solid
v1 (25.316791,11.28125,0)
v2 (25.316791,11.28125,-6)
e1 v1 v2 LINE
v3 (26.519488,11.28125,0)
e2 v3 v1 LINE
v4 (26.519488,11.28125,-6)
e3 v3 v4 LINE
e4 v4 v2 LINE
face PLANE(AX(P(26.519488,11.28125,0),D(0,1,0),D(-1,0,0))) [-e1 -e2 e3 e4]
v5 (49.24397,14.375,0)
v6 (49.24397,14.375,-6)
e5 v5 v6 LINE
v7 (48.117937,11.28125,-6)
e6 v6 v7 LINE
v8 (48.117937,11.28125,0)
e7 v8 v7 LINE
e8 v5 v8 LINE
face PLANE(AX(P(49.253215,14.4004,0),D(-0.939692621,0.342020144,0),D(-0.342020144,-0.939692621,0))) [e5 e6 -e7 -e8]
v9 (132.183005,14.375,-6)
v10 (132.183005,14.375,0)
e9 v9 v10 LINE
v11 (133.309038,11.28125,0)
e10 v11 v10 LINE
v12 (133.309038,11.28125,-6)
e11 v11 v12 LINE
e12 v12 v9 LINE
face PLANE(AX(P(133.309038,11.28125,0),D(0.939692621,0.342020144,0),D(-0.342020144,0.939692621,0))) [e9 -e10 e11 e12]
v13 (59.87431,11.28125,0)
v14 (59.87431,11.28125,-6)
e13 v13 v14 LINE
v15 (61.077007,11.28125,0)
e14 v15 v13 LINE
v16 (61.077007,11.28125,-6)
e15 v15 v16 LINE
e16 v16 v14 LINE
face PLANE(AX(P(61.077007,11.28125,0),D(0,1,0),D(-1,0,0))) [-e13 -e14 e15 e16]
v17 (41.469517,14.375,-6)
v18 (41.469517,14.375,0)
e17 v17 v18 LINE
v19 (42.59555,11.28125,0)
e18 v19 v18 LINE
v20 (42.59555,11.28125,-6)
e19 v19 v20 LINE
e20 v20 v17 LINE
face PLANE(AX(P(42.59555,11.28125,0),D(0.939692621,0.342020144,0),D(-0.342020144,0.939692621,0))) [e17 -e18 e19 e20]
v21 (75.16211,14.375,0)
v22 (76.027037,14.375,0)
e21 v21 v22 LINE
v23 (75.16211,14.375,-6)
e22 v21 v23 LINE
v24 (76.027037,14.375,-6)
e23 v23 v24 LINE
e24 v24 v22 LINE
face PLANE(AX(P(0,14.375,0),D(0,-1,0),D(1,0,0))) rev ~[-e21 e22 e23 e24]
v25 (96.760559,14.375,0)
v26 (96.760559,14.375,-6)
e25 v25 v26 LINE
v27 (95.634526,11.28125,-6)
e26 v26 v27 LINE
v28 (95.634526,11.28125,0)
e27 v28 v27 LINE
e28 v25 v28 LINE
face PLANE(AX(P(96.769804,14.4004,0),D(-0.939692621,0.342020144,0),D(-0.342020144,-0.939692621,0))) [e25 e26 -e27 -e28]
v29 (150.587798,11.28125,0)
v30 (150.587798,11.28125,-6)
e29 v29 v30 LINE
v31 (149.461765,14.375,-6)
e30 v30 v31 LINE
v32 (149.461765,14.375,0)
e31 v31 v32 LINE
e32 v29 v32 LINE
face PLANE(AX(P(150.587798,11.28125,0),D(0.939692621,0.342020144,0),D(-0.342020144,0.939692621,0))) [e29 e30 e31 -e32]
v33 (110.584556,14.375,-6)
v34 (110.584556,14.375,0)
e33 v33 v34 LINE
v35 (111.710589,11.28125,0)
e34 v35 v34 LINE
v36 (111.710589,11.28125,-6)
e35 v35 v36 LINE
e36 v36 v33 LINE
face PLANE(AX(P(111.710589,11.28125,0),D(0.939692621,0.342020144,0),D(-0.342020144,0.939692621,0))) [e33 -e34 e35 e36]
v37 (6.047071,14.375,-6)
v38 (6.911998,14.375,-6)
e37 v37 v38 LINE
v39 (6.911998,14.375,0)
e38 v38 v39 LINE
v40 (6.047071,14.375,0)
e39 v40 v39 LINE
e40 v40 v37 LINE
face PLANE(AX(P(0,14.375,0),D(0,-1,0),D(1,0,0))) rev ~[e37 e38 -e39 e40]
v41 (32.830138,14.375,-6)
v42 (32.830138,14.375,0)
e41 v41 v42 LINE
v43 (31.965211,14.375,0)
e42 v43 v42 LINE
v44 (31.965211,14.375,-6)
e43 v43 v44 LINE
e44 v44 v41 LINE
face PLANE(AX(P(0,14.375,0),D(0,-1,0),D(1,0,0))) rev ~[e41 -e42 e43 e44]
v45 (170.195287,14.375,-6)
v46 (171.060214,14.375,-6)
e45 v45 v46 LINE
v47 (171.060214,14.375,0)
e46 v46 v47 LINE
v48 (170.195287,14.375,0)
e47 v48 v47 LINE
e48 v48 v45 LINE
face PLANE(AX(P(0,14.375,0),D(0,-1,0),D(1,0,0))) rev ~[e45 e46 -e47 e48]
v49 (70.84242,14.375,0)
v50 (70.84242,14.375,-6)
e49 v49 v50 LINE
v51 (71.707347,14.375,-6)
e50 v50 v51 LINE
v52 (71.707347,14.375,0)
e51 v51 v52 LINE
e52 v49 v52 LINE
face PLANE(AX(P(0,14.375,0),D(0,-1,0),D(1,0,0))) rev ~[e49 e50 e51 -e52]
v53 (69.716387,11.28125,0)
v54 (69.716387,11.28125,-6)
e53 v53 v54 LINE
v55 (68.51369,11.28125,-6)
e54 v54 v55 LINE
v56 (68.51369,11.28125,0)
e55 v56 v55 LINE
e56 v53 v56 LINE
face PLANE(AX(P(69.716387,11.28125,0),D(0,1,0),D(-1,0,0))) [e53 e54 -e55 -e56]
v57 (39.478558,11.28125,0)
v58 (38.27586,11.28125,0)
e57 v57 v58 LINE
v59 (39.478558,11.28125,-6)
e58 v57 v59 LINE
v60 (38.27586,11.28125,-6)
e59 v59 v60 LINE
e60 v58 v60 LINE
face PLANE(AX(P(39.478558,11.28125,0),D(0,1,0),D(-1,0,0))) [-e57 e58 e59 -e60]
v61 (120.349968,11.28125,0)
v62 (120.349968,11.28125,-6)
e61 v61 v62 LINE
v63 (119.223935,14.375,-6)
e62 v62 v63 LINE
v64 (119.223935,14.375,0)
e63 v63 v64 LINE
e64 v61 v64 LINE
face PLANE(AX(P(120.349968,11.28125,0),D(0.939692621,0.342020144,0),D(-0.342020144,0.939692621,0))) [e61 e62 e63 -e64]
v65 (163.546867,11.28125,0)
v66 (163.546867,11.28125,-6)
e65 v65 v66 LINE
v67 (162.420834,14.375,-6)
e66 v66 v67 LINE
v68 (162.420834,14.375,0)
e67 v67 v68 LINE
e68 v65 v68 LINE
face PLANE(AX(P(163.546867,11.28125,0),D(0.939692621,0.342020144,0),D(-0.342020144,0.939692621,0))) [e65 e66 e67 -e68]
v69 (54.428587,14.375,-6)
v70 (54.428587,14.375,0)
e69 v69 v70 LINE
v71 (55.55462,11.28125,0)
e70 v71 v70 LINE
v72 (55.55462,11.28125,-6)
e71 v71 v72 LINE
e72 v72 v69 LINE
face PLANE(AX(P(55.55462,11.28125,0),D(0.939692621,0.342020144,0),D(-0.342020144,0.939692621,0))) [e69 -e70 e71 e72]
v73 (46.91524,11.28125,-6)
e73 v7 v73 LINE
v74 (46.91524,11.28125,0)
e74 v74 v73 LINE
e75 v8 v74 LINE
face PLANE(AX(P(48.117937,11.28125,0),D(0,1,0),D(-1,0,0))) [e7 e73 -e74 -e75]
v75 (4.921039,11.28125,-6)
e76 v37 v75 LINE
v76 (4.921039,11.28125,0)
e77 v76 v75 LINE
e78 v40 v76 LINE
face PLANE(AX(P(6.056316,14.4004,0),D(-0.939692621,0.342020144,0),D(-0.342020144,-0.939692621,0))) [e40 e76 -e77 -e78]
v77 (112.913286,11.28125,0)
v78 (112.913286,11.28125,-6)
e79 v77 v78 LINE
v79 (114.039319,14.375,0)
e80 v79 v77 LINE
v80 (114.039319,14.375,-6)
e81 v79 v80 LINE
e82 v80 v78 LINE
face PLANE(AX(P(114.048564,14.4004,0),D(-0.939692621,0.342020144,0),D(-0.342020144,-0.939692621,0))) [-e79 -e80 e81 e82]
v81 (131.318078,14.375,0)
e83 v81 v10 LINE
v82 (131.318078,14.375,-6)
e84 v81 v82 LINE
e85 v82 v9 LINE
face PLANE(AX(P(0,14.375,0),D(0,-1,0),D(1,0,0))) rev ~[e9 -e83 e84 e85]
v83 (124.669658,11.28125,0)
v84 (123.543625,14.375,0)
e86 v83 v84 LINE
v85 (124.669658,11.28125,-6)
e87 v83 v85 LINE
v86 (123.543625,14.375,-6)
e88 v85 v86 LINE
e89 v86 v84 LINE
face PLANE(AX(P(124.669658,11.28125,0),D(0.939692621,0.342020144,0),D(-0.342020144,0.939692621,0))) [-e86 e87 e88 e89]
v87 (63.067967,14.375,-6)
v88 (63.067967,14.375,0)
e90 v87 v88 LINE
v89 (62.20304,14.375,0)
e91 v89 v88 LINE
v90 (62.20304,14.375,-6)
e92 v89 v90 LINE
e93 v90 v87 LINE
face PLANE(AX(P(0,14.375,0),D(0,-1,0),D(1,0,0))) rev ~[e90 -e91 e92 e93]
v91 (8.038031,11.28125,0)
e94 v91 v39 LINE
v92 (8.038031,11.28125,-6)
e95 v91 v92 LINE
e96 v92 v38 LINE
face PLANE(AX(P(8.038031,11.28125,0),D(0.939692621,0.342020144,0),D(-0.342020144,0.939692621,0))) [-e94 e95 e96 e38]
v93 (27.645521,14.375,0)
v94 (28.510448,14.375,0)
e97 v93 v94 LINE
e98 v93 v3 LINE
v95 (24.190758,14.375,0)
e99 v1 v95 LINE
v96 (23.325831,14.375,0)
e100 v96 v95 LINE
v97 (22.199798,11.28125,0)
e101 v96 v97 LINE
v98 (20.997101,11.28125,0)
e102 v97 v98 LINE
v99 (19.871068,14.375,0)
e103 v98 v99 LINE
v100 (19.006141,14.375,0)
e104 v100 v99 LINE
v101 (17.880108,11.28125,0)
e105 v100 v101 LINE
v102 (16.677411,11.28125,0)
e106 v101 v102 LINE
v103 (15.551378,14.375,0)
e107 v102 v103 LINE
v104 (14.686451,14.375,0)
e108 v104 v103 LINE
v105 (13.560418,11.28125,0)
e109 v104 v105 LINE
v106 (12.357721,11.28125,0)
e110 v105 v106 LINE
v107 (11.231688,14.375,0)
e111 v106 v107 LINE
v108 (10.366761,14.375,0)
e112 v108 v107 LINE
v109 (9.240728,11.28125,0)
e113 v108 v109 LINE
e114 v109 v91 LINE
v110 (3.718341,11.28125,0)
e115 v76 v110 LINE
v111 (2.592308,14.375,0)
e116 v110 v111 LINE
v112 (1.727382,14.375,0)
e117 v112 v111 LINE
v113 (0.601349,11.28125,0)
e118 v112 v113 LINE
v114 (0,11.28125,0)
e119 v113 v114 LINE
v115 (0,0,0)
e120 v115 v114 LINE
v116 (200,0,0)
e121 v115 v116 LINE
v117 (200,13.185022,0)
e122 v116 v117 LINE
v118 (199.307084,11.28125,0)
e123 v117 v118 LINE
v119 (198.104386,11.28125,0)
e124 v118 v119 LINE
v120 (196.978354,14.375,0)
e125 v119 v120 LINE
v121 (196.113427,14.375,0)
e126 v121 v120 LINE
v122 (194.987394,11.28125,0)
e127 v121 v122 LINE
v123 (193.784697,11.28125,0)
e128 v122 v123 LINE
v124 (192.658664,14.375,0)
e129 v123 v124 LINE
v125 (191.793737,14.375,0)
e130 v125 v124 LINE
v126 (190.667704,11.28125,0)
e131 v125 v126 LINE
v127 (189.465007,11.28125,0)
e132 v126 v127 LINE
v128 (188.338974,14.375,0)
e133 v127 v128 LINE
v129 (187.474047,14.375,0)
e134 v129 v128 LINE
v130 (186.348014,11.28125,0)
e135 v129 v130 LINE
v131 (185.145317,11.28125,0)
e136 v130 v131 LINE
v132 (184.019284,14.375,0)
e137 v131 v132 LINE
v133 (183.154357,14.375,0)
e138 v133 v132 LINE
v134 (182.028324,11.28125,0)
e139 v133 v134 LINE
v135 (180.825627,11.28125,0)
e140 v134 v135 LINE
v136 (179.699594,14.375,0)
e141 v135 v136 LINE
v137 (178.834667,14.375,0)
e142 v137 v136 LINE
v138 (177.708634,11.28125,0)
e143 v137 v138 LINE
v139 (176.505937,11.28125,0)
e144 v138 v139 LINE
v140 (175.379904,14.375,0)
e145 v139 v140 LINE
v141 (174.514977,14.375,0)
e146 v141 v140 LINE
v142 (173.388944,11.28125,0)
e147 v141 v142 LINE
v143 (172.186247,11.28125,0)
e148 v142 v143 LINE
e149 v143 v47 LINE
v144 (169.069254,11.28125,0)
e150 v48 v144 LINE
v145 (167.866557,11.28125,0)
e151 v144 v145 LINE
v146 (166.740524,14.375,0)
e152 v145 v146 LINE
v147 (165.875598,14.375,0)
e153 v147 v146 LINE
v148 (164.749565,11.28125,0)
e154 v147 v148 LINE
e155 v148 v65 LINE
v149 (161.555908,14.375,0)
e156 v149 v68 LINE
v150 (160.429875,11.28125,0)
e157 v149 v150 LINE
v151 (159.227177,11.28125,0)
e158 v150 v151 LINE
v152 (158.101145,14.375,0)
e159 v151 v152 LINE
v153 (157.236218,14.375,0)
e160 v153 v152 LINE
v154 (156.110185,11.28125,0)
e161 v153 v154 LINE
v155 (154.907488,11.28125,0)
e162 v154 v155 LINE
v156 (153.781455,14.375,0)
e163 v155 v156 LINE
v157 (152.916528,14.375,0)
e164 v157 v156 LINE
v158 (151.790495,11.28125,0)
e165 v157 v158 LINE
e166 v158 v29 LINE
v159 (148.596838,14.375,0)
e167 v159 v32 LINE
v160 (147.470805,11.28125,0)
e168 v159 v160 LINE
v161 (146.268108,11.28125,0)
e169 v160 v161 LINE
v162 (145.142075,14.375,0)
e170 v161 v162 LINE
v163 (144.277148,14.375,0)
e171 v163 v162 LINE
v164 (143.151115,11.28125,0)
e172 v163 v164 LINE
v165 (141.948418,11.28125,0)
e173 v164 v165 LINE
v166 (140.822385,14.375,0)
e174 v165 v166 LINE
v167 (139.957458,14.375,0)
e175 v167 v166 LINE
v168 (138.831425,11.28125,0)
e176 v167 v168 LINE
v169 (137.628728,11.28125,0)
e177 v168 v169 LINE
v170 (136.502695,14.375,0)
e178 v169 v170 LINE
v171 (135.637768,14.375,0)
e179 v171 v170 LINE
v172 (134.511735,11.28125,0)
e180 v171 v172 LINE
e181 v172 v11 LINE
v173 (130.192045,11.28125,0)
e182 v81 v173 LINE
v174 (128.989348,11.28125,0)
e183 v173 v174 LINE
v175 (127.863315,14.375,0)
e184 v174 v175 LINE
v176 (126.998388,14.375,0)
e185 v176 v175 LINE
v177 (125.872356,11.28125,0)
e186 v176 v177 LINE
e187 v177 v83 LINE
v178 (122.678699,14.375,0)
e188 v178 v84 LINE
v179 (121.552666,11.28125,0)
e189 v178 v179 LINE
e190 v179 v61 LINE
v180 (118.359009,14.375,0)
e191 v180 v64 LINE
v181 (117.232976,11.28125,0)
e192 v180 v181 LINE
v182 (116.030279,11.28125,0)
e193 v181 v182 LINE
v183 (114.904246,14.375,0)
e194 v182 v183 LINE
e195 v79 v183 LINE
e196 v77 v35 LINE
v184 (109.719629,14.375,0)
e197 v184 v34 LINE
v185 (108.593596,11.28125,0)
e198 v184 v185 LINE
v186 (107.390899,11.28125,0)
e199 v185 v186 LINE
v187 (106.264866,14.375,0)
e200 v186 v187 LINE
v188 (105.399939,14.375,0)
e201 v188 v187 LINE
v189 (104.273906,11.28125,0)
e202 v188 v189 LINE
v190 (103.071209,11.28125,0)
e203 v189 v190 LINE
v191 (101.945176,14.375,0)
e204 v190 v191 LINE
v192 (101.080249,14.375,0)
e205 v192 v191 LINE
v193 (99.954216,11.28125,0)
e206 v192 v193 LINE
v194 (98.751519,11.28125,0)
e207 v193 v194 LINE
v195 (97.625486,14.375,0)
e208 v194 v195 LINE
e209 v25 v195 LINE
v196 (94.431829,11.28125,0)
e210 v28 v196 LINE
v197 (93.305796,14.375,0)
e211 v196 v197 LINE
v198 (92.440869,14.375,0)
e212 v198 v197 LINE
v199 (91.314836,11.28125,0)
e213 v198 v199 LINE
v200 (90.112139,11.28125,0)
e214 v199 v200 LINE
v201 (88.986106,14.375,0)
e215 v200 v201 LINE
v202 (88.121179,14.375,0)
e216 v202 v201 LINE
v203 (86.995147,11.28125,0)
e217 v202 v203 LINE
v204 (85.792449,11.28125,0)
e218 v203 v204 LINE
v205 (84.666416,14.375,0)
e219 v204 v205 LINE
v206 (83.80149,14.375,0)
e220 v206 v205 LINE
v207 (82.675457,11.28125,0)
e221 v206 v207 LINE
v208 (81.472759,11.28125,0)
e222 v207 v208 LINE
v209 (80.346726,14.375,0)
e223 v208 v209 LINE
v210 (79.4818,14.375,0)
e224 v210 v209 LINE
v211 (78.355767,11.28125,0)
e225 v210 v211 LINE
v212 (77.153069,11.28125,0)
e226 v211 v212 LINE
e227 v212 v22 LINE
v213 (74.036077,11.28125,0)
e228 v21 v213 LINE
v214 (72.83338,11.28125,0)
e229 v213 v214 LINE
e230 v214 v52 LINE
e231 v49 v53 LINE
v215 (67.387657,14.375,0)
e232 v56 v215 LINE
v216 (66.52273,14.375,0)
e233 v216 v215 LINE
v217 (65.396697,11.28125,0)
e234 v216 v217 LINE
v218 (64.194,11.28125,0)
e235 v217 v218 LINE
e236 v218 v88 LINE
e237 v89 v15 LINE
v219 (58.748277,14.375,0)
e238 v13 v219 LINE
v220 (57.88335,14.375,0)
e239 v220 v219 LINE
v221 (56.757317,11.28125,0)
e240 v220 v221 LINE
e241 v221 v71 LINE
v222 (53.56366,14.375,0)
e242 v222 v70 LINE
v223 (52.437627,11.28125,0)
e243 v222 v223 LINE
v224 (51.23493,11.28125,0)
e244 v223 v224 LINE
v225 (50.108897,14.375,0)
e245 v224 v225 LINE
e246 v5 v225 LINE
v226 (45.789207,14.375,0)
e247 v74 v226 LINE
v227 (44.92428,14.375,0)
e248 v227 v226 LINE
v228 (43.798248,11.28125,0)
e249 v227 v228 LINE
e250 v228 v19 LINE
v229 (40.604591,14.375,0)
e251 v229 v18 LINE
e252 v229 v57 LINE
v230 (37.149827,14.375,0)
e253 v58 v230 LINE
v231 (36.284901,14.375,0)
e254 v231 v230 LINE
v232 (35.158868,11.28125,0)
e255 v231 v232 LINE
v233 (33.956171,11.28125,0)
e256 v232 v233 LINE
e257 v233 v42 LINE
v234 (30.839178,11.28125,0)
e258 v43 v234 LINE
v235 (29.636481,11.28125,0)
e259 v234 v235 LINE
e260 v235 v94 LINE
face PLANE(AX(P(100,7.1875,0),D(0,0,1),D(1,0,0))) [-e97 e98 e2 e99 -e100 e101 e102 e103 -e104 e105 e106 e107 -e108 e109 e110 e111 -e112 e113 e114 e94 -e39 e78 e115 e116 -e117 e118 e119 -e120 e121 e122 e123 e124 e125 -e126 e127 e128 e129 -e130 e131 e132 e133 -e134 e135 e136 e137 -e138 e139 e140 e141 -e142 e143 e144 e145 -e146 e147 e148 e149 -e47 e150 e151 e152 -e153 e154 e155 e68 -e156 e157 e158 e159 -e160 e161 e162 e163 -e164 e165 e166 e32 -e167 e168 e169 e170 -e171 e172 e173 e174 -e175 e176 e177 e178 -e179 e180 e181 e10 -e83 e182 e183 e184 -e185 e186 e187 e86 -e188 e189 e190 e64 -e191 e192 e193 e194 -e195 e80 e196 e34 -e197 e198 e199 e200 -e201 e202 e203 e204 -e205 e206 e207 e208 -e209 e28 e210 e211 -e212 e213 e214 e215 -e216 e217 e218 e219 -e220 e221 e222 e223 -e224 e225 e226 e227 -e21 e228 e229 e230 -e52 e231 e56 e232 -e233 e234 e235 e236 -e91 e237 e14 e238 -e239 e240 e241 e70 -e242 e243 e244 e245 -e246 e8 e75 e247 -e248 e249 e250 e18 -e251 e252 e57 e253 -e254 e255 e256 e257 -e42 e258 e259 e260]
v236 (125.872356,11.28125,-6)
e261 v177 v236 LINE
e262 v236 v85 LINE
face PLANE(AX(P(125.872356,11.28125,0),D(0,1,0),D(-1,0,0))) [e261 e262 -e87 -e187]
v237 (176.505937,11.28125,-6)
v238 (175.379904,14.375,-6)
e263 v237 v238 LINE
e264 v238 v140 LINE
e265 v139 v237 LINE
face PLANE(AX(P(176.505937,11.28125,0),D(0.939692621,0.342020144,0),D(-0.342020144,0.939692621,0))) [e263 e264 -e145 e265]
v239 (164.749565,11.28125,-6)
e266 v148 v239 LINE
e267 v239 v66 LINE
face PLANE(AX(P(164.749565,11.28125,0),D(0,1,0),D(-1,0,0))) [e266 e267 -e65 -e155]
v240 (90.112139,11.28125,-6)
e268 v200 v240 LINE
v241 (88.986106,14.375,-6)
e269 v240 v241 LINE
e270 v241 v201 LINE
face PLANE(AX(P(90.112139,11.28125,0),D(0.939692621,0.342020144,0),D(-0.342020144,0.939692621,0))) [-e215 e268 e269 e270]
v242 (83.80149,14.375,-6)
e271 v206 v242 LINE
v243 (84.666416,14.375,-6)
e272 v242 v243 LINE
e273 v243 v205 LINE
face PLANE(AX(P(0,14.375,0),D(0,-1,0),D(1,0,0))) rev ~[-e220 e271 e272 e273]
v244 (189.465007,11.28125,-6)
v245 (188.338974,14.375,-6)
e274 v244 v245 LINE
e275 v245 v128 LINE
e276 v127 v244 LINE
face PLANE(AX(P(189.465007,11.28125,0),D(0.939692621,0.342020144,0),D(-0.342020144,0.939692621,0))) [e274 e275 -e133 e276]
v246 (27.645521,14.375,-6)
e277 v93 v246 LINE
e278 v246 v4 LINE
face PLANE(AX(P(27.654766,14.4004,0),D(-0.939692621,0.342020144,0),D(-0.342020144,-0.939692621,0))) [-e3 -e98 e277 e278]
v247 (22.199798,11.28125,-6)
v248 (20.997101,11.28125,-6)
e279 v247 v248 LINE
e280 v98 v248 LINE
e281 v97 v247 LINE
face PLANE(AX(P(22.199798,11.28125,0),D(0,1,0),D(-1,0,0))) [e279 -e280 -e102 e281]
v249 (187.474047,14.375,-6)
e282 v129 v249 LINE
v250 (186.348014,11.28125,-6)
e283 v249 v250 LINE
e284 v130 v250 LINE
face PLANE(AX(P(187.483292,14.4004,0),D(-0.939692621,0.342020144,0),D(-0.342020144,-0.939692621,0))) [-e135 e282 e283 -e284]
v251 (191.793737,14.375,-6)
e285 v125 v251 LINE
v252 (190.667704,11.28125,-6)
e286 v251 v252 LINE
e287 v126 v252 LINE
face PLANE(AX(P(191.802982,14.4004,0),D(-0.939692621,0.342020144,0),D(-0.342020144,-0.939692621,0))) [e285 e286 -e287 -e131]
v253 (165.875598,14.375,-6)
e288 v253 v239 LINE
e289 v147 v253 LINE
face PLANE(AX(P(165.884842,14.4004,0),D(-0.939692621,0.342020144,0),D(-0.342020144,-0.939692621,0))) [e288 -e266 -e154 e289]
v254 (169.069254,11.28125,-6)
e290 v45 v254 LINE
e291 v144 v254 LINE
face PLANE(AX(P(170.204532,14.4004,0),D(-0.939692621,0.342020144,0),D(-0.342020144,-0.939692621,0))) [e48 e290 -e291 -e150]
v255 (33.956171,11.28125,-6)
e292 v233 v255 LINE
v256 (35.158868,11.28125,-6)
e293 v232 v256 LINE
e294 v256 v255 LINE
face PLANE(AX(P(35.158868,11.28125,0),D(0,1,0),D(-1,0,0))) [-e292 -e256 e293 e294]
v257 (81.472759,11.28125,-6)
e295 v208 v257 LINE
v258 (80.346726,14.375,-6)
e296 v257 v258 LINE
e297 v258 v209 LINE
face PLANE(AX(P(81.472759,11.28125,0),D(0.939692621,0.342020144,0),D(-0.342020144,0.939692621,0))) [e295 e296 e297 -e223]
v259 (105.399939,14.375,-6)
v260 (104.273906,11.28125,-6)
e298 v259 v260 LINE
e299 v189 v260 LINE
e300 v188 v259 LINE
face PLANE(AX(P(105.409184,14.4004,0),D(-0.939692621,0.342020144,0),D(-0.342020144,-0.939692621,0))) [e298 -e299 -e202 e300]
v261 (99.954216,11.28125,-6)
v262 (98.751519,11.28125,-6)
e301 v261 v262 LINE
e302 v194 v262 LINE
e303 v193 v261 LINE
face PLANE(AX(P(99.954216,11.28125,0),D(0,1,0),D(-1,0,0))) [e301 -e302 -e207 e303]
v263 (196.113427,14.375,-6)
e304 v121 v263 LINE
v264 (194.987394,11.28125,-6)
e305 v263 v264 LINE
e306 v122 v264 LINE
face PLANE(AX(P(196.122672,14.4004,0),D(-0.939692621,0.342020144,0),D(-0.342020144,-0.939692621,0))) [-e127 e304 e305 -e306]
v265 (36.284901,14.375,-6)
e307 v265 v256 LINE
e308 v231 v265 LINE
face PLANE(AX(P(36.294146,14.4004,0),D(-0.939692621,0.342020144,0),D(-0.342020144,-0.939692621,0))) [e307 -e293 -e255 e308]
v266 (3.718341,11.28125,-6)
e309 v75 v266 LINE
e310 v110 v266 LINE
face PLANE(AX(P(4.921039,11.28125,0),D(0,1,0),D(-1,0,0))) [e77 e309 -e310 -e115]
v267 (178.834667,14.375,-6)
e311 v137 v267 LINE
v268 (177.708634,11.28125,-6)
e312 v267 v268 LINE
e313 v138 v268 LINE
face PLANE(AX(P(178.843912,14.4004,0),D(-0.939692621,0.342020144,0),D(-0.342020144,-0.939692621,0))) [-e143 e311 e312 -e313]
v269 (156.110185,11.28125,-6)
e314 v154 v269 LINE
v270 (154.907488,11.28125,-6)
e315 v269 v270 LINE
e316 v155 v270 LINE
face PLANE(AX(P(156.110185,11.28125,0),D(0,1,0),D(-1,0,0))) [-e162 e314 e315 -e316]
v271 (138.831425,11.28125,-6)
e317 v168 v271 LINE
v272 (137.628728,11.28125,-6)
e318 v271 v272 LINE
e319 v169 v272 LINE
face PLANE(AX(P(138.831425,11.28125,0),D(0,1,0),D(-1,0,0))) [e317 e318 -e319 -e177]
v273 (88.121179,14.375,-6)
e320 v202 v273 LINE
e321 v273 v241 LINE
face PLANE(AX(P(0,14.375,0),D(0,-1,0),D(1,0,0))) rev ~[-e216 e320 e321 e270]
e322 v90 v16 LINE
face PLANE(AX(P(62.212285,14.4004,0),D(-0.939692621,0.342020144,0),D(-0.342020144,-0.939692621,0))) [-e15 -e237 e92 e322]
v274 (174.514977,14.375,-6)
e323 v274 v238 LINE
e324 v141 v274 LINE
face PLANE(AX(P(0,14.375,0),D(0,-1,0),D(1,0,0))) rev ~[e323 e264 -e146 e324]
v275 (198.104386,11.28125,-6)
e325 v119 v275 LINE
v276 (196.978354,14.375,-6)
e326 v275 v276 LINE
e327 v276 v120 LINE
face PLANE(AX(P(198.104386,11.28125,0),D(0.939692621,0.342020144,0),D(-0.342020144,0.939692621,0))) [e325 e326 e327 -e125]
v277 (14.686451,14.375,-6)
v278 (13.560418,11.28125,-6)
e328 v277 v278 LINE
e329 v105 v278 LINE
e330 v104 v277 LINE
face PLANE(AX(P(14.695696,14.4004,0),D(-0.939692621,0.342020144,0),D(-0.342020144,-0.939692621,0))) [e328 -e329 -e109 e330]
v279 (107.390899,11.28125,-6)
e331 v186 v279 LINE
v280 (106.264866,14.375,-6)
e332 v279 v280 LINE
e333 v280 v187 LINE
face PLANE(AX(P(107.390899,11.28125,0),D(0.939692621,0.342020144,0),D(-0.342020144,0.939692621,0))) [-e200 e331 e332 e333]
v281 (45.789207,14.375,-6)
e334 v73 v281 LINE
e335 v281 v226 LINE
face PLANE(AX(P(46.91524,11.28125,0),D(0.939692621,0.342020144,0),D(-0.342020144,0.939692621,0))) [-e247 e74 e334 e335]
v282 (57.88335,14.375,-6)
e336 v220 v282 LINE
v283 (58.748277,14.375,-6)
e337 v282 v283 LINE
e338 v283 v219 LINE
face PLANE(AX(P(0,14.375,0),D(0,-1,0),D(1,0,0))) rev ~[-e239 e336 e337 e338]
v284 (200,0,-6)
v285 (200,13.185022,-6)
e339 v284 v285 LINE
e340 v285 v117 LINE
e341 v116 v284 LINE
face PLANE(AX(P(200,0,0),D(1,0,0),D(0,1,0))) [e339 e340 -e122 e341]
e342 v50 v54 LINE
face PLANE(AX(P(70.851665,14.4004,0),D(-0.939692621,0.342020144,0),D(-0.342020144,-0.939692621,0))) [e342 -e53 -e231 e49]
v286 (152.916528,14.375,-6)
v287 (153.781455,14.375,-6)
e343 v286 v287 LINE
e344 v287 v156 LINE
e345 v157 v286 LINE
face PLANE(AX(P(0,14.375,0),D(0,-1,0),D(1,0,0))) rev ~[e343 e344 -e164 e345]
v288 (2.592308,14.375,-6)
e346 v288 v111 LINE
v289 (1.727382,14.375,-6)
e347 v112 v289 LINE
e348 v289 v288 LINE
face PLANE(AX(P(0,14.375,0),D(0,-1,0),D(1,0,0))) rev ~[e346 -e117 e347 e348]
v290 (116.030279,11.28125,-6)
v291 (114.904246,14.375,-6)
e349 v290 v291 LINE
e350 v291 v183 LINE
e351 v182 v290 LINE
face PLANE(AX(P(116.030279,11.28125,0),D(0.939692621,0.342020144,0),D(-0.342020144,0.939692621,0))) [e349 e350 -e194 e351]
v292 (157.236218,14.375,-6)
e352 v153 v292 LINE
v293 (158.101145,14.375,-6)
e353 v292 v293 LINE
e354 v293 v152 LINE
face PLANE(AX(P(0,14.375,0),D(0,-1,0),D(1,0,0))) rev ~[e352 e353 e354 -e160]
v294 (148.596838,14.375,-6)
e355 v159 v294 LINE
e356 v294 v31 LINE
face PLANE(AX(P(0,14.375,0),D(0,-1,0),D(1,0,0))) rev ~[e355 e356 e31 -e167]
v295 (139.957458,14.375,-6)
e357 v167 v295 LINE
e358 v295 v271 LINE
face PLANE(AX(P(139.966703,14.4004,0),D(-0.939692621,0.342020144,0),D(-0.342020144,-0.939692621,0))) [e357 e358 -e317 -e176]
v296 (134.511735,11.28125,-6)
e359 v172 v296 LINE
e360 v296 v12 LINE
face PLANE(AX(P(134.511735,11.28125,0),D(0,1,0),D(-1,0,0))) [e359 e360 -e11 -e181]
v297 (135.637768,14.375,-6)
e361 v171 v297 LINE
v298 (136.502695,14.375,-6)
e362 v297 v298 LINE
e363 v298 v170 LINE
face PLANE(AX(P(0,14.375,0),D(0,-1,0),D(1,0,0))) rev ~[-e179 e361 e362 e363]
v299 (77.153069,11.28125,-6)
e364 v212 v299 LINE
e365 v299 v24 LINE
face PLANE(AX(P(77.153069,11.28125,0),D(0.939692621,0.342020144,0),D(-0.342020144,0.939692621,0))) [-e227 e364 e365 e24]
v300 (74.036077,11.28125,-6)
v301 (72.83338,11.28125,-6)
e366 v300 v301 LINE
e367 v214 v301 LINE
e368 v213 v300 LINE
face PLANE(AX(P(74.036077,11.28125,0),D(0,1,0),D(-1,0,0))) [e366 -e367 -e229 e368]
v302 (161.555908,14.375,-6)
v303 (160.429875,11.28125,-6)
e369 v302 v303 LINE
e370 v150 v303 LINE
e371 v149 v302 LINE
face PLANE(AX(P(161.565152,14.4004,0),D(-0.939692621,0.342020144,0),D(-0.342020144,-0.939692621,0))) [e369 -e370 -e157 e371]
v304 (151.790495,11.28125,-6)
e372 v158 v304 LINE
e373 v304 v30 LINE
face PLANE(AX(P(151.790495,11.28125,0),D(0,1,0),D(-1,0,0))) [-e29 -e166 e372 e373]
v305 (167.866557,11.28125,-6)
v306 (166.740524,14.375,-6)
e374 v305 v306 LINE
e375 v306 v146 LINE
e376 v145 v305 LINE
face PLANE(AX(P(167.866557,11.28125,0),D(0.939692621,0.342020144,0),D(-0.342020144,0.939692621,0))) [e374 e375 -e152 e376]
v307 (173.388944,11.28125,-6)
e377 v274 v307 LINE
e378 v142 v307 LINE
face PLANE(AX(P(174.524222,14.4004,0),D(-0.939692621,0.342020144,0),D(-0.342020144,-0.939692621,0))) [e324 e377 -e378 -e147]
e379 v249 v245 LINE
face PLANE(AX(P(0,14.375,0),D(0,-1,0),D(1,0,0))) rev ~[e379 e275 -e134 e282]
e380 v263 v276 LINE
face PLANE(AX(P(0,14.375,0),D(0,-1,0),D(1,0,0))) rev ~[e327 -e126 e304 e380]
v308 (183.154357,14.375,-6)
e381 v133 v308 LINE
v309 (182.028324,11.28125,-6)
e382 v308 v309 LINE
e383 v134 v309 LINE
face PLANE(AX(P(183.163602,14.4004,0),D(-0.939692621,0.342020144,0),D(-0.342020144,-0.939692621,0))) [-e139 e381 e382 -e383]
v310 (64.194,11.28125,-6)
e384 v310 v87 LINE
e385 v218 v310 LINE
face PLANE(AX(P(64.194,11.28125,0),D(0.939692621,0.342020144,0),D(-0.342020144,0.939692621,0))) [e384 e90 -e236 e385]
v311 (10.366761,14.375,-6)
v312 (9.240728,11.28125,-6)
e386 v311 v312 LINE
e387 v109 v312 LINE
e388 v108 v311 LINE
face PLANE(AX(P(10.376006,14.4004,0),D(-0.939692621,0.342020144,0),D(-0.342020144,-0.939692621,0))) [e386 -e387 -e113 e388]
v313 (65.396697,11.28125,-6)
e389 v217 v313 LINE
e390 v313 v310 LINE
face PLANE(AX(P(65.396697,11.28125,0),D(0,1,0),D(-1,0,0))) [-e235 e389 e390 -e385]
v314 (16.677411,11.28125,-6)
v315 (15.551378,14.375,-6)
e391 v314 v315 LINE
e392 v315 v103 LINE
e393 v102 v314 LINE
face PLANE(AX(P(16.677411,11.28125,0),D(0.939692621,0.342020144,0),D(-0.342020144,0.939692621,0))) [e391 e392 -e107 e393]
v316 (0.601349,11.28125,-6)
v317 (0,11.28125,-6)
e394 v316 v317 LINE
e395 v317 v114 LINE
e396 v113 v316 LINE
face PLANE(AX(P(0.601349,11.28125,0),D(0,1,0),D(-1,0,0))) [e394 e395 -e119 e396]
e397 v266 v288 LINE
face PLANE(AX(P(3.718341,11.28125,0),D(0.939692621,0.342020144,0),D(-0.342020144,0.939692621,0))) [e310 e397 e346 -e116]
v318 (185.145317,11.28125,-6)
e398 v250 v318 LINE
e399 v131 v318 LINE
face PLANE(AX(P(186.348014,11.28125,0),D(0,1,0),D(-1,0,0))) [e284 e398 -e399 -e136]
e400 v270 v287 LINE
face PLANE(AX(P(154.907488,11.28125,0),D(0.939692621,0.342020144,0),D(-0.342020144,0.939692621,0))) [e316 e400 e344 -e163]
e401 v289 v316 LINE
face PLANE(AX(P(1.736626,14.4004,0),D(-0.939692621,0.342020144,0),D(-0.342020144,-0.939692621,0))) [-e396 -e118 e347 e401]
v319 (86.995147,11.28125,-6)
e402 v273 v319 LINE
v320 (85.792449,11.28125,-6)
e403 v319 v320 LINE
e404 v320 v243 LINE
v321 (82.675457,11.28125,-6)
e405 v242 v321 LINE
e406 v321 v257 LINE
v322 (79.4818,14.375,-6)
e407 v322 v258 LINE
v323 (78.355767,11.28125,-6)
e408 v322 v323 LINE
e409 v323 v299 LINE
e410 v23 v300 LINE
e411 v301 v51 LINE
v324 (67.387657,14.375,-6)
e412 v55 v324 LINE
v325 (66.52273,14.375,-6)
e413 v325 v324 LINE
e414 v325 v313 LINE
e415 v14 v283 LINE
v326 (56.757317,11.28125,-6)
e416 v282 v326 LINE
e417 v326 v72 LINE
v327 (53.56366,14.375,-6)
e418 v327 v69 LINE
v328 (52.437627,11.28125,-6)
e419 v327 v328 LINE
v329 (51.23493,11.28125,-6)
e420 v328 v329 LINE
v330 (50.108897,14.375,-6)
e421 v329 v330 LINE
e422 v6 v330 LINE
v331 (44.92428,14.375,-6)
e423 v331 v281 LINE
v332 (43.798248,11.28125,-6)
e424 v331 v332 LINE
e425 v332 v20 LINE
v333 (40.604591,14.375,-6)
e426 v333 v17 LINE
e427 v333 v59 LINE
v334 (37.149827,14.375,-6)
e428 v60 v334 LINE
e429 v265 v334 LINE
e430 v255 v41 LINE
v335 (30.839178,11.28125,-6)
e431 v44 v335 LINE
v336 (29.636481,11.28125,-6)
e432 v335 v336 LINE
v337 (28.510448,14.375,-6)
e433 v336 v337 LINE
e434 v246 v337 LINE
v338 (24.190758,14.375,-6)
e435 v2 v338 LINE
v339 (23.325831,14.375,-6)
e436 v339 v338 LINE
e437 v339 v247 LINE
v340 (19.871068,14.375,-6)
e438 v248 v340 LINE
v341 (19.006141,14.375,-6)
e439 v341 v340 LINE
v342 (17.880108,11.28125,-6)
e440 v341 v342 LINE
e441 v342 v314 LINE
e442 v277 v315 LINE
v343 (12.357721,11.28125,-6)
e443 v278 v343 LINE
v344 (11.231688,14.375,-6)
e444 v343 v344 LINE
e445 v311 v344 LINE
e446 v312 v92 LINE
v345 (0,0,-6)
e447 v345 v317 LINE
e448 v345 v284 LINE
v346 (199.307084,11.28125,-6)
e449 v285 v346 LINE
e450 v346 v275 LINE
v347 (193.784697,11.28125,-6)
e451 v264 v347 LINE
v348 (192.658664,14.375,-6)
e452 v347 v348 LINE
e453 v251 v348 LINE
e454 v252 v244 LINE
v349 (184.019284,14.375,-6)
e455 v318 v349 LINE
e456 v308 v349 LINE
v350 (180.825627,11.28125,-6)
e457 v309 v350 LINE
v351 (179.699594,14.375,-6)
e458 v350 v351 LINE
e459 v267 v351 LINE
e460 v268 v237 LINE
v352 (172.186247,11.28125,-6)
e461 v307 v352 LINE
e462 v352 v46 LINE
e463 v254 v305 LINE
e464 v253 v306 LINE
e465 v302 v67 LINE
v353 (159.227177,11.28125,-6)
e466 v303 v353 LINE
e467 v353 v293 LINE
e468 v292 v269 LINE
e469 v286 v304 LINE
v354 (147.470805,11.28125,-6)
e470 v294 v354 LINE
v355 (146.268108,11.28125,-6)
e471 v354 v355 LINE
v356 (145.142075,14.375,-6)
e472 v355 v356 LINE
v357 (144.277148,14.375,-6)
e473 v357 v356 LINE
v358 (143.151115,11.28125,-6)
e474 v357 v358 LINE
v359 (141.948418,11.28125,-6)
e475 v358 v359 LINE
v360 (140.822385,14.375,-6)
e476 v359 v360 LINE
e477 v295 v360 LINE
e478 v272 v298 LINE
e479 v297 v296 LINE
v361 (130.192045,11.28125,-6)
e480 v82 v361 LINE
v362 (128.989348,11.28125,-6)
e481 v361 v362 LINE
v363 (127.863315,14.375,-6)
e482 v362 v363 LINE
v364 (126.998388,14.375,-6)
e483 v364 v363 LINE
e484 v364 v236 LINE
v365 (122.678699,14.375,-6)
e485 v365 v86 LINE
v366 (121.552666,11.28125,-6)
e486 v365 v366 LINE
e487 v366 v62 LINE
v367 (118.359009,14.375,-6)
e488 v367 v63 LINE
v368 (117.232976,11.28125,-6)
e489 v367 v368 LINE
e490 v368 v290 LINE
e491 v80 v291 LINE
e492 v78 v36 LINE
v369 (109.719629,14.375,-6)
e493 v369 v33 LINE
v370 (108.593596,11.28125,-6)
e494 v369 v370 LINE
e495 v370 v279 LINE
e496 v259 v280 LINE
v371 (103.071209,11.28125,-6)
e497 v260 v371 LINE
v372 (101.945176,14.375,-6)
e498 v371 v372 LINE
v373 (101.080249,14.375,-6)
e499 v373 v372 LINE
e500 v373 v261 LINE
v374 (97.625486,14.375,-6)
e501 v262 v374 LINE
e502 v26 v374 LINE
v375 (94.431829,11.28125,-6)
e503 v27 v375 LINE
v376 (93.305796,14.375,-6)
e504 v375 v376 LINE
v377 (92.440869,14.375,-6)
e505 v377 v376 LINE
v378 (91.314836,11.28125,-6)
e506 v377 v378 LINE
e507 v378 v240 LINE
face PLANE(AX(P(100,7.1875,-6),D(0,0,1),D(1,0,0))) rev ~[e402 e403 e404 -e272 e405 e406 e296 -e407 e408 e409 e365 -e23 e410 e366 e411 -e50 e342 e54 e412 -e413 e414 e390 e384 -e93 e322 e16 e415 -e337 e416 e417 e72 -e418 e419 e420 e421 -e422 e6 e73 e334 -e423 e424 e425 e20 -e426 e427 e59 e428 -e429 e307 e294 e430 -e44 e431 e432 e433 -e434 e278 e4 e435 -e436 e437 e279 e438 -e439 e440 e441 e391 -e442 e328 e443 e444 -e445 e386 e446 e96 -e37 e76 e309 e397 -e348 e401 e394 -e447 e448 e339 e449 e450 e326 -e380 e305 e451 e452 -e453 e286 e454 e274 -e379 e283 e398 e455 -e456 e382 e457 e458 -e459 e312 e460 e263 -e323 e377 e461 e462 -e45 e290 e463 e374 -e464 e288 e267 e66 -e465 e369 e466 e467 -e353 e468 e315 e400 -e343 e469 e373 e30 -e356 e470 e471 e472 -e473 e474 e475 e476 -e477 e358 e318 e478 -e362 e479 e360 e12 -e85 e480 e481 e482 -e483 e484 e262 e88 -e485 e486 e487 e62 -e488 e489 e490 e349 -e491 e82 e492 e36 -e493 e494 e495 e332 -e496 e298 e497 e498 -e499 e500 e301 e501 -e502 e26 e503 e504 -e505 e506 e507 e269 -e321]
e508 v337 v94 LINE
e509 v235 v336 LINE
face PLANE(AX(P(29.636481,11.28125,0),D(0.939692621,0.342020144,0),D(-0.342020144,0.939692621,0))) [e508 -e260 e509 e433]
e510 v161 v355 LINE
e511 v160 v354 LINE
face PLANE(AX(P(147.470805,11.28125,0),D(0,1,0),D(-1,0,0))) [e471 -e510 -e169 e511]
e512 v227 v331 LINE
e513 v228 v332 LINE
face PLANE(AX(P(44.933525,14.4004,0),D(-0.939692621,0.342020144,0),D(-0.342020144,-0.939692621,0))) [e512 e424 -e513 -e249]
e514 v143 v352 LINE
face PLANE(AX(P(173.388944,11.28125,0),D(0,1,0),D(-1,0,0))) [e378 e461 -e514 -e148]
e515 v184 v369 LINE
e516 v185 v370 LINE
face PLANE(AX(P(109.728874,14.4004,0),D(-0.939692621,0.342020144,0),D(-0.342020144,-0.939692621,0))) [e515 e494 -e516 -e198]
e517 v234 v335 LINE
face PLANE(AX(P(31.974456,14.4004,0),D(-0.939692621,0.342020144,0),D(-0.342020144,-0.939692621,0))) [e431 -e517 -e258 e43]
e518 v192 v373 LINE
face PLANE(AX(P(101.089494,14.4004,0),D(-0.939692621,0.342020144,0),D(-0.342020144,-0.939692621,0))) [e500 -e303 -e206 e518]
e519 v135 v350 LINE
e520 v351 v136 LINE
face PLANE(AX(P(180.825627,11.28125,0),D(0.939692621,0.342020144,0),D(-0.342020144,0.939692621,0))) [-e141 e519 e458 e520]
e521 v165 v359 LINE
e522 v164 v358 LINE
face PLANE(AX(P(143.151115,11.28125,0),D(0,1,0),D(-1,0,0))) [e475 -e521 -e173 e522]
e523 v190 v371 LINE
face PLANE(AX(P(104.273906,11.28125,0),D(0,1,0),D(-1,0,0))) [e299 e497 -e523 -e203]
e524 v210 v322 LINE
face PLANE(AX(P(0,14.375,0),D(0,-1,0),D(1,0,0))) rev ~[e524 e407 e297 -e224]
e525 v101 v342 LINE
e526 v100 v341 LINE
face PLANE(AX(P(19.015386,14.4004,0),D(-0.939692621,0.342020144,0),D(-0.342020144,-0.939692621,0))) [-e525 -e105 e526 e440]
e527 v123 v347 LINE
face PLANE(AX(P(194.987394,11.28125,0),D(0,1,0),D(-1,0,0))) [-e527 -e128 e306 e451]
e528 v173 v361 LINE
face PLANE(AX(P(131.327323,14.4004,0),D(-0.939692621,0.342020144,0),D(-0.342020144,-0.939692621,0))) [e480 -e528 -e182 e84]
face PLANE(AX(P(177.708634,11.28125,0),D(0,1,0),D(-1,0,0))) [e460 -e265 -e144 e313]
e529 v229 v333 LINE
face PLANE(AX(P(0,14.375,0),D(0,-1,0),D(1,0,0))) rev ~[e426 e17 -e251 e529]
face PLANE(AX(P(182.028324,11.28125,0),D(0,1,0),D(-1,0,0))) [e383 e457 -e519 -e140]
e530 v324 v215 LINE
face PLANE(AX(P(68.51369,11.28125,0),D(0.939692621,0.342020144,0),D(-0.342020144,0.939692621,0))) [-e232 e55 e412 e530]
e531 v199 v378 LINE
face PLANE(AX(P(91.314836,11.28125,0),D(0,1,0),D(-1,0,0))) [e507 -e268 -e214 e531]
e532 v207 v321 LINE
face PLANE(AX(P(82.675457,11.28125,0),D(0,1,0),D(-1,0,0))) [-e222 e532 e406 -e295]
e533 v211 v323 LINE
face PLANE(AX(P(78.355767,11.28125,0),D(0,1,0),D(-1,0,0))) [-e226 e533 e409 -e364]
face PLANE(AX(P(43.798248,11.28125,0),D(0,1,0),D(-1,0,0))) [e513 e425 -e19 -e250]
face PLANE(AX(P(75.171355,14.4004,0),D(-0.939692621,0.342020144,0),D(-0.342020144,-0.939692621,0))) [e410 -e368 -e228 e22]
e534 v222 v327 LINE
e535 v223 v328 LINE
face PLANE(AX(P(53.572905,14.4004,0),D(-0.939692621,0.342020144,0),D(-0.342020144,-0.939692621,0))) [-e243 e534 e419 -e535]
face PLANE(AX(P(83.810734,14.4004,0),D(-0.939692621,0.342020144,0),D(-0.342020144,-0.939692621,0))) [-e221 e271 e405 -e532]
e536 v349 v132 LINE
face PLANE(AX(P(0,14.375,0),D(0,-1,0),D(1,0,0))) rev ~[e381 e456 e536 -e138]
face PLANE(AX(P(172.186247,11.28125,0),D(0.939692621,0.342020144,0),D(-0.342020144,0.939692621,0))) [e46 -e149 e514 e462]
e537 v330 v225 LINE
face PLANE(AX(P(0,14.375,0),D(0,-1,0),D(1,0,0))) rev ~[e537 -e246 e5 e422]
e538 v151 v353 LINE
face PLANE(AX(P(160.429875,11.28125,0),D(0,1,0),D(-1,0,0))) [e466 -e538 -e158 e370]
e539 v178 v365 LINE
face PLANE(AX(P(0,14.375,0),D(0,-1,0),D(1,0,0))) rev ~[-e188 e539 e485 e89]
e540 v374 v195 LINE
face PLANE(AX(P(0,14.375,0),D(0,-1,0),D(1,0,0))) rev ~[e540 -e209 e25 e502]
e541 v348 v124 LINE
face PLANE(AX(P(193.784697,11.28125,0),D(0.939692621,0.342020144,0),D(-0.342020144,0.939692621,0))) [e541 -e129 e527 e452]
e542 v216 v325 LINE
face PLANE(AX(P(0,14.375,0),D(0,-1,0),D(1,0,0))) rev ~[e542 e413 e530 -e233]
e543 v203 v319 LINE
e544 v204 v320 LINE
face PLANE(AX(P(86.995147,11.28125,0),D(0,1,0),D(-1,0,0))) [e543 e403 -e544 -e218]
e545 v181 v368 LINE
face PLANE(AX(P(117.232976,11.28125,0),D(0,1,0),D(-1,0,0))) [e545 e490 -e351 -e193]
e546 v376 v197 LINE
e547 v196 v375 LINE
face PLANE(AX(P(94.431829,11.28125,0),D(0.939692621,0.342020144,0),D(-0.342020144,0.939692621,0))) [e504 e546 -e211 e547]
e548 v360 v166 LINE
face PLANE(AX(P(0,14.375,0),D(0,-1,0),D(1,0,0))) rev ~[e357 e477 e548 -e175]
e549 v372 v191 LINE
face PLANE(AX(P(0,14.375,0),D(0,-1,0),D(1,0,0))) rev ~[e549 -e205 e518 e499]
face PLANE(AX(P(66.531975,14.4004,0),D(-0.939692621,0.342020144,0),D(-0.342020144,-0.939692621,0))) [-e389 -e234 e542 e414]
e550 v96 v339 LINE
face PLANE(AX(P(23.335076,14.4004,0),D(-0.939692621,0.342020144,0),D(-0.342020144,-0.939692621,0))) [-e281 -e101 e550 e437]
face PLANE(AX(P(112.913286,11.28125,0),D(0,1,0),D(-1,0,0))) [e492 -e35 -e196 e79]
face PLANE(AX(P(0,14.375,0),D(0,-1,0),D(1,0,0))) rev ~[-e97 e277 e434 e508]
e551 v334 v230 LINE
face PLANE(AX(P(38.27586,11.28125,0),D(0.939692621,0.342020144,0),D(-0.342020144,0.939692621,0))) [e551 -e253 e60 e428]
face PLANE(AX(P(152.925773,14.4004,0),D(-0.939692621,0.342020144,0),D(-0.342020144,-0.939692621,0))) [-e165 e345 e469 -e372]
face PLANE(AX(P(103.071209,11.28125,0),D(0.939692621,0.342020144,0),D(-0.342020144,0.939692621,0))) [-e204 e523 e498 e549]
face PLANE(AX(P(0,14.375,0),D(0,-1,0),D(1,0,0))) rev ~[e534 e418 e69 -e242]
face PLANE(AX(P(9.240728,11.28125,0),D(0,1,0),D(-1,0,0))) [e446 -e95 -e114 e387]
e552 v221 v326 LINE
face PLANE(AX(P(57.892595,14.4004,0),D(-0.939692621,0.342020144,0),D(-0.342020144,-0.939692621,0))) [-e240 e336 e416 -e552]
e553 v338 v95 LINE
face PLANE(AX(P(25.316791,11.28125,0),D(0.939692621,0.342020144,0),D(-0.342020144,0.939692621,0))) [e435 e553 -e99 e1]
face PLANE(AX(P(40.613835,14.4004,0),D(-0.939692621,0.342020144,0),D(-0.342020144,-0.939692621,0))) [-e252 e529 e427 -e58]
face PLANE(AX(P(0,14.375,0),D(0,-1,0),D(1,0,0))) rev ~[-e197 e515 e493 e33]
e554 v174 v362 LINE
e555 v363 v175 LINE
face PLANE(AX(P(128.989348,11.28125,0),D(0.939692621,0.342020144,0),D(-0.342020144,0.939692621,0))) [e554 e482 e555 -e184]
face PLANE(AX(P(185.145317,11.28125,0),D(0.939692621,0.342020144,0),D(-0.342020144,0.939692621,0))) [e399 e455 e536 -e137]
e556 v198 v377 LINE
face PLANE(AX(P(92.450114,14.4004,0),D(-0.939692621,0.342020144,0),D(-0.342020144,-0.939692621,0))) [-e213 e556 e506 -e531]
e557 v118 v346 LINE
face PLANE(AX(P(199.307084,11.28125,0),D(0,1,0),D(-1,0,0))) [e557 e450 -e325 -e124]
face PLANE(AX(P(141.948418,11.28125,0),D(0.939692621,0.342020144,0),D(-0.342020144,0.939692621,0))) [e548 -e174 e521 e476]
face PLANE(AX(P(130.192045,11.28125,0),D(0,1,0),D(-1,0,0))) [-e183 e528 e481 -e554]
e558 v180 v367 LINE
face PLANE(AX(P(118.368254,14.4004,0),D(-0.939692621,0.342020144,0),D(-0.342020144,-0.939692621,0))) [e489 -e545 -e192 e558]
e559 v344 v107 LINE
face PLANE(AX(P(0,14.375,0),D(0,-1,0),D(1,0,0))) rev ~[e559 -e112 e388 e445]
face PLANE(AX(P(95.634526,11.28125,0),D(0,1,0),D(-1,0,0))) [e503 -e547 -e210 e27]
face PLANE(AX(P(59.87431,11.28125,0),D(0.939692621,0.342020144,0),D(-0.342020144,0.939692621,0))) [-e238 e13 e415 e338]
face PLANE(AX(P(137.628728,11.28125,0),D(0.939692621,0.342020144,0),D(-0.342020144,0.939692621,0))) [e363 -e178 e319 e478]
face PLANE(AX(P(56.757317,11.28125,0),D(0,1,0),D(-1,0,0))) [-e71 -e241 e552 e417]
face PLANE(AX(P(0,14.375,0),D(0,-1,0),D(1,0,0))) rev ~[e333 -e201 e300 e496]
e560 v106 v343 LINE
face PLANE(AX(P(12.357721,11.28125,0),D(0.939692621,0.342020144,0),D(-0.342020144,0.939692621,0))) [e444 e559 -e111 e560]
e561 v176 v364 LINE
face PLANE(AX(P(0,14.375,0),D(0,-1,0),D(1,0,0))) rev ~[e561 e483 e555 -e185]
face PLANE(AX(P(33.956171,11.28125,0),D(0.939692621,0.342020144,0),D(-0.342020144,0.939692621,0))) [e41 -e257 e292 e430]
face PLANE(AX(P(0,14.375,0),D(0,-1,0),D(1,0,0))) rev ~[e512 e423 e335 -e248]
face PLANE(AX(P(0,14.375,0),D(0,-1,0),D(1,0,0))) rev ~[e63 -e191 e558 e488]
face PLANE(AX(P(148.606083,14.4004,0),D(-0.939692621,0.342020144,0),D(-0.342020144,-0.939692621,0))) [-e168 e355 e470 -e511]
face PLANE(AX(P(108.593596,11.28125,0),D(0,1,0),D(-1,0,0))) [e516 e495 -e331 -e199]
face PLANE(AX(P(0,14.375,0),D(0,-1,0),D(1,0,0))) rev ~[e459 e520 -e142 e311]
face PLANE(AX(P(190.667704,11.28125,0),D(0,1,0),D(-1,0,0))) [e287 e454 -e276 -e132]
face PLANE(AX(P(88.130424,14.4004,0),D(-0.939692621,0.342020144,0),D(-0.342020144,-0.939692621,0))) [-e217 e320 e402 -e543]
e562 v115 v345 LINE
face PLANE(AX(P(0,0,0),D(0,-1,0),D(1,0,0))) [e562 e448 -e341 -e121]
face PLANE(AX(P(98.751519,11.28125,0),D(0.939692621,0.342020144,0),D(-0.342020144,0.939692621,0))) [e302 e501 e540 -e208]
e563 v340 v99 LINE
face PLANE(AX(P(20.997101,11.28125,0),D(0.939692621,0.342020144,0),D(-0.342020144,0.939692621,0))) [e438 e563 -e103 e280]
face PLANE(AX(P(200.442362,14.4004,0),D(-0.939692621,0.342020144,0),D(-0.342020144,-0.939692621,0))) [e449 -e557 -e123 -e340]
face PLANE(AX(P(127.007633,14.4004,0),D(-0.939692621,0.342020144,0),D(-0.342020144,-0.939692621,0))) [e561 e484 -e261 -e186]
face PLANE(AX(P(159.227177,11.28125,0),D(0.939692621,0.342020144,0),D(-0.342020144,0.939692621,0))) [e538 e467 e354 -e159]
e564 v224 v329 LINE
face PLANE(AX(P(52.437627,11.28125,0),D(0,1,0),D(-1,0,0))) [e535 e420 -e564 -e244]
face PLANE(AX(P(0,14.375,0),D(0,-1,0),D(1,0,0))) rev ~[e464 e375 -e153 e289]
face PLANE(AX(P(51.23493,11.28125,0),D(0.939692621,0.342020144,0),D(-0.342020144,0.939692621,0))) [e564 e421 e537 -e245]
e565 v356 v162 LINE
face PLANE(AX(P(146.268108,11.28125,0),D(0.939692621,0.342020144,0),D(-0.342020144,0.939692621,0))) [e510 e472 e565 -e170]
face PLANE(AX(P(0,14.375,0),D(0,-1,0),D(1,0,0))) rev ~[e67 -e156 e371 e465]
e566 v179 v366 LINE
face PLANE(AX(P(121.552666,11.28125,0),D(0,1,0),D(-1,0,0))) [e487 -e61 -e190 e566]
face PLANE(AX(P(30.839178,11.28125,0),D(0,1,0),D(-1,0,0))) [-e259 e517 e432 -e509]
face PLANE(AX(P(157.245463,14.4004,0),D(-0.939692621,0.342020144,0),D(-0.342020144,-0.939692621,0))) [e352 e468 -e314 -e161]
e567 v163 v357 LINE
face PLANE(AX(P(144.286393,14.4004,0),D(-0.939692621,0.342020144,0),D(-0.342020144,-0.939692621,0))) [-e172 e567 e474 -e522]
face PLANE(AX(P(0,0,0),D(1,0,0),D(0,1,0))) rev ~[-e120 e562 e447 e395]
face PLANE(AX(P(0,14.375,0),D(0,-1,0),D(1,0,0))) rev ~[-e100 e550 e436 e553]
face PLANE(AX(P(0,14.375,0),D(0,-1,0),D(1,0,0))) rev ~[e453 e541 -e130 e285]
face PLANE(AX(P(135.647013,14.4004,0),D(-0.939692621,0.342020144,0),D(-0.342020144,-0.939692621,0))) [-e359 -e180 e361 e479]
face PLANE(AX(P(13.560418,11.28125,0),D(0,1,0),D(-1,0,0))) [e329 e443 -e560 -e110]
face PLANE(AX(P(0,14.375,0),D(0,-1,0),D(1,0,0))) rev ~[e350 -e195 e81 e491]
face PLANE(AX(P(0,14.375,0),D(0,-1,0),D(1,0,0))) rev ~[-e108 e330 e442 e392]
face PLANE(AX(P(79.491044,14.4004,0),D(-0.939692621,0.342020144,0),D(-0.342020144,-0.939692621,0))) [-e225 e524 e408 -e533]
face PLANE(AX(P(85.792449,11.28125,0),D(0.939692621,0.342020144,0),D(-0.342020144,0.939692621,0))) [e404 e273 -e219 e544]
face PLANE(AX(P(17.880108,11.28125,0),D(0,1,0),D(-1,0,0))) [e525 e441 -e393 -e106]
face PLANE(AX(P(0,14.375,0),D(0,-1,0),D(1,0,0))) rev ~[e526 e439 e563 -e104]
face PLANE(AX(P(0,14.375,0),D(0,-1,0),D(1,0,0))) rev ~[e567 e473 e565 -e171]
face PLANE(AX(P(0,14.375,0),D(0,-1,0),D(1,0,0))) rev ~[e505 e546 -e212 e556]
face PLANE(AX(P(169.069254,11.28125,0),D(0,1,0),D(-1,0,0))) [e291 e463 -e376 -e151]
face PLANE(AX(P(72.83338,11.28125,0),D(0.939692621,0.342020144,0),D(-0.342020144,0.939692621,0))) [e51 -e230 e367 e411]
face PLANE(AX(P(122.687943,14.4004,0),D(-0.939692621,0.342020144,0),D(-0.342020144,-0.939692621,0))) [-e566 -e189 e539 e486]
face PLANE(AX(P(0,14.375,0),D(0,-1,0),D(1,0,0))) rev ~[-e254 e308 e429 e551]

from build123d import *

# Parameters (mm, degrees)
BLANKSKE_W        = 200
BLANKSKE_H        = 14.375
BLANK_DEPTH       = 6
TOOTHCUTSIM_DEPTH = 201.605684428
TEETHCUTS_COUNT   = 47
TEETHCUTS_PITCH   = 4.319689894


with BuildPart() as part:
    # BlankSke → Blank (new body)
    with BuildSketch(Plane.XY):
        with Locations((100, 7.1875)):
            Rectangle(BLANKSKE_W, BLANKSKE_H)
    extrude(amount=-BLANK_DEPTH)

    # TooCutSkeSim → ToothCutSim (cut, through all)
    with BuildSketch(Plane.XY):
        Polygon((0.601348633, 11.28125), (-0.601348633, 11.28125), (-1.73662639, 14.4004), (1.73662639, 14.4004), align=None)
    toothcutsim = extrude(amount=-TOOTHCUTSIM_DEPTH, mode=Mode.SUBTRACT)

    # TeethCuts: ToothCutSim ×47
    with Locations(*[(i * TEETHCUTS_PITCH, 0, 0) for i in range(1, TEETHCUTS_COUNT)]):
        add(toothcutsim, mode=Mode.SUBTRACT)


solid = part.part
